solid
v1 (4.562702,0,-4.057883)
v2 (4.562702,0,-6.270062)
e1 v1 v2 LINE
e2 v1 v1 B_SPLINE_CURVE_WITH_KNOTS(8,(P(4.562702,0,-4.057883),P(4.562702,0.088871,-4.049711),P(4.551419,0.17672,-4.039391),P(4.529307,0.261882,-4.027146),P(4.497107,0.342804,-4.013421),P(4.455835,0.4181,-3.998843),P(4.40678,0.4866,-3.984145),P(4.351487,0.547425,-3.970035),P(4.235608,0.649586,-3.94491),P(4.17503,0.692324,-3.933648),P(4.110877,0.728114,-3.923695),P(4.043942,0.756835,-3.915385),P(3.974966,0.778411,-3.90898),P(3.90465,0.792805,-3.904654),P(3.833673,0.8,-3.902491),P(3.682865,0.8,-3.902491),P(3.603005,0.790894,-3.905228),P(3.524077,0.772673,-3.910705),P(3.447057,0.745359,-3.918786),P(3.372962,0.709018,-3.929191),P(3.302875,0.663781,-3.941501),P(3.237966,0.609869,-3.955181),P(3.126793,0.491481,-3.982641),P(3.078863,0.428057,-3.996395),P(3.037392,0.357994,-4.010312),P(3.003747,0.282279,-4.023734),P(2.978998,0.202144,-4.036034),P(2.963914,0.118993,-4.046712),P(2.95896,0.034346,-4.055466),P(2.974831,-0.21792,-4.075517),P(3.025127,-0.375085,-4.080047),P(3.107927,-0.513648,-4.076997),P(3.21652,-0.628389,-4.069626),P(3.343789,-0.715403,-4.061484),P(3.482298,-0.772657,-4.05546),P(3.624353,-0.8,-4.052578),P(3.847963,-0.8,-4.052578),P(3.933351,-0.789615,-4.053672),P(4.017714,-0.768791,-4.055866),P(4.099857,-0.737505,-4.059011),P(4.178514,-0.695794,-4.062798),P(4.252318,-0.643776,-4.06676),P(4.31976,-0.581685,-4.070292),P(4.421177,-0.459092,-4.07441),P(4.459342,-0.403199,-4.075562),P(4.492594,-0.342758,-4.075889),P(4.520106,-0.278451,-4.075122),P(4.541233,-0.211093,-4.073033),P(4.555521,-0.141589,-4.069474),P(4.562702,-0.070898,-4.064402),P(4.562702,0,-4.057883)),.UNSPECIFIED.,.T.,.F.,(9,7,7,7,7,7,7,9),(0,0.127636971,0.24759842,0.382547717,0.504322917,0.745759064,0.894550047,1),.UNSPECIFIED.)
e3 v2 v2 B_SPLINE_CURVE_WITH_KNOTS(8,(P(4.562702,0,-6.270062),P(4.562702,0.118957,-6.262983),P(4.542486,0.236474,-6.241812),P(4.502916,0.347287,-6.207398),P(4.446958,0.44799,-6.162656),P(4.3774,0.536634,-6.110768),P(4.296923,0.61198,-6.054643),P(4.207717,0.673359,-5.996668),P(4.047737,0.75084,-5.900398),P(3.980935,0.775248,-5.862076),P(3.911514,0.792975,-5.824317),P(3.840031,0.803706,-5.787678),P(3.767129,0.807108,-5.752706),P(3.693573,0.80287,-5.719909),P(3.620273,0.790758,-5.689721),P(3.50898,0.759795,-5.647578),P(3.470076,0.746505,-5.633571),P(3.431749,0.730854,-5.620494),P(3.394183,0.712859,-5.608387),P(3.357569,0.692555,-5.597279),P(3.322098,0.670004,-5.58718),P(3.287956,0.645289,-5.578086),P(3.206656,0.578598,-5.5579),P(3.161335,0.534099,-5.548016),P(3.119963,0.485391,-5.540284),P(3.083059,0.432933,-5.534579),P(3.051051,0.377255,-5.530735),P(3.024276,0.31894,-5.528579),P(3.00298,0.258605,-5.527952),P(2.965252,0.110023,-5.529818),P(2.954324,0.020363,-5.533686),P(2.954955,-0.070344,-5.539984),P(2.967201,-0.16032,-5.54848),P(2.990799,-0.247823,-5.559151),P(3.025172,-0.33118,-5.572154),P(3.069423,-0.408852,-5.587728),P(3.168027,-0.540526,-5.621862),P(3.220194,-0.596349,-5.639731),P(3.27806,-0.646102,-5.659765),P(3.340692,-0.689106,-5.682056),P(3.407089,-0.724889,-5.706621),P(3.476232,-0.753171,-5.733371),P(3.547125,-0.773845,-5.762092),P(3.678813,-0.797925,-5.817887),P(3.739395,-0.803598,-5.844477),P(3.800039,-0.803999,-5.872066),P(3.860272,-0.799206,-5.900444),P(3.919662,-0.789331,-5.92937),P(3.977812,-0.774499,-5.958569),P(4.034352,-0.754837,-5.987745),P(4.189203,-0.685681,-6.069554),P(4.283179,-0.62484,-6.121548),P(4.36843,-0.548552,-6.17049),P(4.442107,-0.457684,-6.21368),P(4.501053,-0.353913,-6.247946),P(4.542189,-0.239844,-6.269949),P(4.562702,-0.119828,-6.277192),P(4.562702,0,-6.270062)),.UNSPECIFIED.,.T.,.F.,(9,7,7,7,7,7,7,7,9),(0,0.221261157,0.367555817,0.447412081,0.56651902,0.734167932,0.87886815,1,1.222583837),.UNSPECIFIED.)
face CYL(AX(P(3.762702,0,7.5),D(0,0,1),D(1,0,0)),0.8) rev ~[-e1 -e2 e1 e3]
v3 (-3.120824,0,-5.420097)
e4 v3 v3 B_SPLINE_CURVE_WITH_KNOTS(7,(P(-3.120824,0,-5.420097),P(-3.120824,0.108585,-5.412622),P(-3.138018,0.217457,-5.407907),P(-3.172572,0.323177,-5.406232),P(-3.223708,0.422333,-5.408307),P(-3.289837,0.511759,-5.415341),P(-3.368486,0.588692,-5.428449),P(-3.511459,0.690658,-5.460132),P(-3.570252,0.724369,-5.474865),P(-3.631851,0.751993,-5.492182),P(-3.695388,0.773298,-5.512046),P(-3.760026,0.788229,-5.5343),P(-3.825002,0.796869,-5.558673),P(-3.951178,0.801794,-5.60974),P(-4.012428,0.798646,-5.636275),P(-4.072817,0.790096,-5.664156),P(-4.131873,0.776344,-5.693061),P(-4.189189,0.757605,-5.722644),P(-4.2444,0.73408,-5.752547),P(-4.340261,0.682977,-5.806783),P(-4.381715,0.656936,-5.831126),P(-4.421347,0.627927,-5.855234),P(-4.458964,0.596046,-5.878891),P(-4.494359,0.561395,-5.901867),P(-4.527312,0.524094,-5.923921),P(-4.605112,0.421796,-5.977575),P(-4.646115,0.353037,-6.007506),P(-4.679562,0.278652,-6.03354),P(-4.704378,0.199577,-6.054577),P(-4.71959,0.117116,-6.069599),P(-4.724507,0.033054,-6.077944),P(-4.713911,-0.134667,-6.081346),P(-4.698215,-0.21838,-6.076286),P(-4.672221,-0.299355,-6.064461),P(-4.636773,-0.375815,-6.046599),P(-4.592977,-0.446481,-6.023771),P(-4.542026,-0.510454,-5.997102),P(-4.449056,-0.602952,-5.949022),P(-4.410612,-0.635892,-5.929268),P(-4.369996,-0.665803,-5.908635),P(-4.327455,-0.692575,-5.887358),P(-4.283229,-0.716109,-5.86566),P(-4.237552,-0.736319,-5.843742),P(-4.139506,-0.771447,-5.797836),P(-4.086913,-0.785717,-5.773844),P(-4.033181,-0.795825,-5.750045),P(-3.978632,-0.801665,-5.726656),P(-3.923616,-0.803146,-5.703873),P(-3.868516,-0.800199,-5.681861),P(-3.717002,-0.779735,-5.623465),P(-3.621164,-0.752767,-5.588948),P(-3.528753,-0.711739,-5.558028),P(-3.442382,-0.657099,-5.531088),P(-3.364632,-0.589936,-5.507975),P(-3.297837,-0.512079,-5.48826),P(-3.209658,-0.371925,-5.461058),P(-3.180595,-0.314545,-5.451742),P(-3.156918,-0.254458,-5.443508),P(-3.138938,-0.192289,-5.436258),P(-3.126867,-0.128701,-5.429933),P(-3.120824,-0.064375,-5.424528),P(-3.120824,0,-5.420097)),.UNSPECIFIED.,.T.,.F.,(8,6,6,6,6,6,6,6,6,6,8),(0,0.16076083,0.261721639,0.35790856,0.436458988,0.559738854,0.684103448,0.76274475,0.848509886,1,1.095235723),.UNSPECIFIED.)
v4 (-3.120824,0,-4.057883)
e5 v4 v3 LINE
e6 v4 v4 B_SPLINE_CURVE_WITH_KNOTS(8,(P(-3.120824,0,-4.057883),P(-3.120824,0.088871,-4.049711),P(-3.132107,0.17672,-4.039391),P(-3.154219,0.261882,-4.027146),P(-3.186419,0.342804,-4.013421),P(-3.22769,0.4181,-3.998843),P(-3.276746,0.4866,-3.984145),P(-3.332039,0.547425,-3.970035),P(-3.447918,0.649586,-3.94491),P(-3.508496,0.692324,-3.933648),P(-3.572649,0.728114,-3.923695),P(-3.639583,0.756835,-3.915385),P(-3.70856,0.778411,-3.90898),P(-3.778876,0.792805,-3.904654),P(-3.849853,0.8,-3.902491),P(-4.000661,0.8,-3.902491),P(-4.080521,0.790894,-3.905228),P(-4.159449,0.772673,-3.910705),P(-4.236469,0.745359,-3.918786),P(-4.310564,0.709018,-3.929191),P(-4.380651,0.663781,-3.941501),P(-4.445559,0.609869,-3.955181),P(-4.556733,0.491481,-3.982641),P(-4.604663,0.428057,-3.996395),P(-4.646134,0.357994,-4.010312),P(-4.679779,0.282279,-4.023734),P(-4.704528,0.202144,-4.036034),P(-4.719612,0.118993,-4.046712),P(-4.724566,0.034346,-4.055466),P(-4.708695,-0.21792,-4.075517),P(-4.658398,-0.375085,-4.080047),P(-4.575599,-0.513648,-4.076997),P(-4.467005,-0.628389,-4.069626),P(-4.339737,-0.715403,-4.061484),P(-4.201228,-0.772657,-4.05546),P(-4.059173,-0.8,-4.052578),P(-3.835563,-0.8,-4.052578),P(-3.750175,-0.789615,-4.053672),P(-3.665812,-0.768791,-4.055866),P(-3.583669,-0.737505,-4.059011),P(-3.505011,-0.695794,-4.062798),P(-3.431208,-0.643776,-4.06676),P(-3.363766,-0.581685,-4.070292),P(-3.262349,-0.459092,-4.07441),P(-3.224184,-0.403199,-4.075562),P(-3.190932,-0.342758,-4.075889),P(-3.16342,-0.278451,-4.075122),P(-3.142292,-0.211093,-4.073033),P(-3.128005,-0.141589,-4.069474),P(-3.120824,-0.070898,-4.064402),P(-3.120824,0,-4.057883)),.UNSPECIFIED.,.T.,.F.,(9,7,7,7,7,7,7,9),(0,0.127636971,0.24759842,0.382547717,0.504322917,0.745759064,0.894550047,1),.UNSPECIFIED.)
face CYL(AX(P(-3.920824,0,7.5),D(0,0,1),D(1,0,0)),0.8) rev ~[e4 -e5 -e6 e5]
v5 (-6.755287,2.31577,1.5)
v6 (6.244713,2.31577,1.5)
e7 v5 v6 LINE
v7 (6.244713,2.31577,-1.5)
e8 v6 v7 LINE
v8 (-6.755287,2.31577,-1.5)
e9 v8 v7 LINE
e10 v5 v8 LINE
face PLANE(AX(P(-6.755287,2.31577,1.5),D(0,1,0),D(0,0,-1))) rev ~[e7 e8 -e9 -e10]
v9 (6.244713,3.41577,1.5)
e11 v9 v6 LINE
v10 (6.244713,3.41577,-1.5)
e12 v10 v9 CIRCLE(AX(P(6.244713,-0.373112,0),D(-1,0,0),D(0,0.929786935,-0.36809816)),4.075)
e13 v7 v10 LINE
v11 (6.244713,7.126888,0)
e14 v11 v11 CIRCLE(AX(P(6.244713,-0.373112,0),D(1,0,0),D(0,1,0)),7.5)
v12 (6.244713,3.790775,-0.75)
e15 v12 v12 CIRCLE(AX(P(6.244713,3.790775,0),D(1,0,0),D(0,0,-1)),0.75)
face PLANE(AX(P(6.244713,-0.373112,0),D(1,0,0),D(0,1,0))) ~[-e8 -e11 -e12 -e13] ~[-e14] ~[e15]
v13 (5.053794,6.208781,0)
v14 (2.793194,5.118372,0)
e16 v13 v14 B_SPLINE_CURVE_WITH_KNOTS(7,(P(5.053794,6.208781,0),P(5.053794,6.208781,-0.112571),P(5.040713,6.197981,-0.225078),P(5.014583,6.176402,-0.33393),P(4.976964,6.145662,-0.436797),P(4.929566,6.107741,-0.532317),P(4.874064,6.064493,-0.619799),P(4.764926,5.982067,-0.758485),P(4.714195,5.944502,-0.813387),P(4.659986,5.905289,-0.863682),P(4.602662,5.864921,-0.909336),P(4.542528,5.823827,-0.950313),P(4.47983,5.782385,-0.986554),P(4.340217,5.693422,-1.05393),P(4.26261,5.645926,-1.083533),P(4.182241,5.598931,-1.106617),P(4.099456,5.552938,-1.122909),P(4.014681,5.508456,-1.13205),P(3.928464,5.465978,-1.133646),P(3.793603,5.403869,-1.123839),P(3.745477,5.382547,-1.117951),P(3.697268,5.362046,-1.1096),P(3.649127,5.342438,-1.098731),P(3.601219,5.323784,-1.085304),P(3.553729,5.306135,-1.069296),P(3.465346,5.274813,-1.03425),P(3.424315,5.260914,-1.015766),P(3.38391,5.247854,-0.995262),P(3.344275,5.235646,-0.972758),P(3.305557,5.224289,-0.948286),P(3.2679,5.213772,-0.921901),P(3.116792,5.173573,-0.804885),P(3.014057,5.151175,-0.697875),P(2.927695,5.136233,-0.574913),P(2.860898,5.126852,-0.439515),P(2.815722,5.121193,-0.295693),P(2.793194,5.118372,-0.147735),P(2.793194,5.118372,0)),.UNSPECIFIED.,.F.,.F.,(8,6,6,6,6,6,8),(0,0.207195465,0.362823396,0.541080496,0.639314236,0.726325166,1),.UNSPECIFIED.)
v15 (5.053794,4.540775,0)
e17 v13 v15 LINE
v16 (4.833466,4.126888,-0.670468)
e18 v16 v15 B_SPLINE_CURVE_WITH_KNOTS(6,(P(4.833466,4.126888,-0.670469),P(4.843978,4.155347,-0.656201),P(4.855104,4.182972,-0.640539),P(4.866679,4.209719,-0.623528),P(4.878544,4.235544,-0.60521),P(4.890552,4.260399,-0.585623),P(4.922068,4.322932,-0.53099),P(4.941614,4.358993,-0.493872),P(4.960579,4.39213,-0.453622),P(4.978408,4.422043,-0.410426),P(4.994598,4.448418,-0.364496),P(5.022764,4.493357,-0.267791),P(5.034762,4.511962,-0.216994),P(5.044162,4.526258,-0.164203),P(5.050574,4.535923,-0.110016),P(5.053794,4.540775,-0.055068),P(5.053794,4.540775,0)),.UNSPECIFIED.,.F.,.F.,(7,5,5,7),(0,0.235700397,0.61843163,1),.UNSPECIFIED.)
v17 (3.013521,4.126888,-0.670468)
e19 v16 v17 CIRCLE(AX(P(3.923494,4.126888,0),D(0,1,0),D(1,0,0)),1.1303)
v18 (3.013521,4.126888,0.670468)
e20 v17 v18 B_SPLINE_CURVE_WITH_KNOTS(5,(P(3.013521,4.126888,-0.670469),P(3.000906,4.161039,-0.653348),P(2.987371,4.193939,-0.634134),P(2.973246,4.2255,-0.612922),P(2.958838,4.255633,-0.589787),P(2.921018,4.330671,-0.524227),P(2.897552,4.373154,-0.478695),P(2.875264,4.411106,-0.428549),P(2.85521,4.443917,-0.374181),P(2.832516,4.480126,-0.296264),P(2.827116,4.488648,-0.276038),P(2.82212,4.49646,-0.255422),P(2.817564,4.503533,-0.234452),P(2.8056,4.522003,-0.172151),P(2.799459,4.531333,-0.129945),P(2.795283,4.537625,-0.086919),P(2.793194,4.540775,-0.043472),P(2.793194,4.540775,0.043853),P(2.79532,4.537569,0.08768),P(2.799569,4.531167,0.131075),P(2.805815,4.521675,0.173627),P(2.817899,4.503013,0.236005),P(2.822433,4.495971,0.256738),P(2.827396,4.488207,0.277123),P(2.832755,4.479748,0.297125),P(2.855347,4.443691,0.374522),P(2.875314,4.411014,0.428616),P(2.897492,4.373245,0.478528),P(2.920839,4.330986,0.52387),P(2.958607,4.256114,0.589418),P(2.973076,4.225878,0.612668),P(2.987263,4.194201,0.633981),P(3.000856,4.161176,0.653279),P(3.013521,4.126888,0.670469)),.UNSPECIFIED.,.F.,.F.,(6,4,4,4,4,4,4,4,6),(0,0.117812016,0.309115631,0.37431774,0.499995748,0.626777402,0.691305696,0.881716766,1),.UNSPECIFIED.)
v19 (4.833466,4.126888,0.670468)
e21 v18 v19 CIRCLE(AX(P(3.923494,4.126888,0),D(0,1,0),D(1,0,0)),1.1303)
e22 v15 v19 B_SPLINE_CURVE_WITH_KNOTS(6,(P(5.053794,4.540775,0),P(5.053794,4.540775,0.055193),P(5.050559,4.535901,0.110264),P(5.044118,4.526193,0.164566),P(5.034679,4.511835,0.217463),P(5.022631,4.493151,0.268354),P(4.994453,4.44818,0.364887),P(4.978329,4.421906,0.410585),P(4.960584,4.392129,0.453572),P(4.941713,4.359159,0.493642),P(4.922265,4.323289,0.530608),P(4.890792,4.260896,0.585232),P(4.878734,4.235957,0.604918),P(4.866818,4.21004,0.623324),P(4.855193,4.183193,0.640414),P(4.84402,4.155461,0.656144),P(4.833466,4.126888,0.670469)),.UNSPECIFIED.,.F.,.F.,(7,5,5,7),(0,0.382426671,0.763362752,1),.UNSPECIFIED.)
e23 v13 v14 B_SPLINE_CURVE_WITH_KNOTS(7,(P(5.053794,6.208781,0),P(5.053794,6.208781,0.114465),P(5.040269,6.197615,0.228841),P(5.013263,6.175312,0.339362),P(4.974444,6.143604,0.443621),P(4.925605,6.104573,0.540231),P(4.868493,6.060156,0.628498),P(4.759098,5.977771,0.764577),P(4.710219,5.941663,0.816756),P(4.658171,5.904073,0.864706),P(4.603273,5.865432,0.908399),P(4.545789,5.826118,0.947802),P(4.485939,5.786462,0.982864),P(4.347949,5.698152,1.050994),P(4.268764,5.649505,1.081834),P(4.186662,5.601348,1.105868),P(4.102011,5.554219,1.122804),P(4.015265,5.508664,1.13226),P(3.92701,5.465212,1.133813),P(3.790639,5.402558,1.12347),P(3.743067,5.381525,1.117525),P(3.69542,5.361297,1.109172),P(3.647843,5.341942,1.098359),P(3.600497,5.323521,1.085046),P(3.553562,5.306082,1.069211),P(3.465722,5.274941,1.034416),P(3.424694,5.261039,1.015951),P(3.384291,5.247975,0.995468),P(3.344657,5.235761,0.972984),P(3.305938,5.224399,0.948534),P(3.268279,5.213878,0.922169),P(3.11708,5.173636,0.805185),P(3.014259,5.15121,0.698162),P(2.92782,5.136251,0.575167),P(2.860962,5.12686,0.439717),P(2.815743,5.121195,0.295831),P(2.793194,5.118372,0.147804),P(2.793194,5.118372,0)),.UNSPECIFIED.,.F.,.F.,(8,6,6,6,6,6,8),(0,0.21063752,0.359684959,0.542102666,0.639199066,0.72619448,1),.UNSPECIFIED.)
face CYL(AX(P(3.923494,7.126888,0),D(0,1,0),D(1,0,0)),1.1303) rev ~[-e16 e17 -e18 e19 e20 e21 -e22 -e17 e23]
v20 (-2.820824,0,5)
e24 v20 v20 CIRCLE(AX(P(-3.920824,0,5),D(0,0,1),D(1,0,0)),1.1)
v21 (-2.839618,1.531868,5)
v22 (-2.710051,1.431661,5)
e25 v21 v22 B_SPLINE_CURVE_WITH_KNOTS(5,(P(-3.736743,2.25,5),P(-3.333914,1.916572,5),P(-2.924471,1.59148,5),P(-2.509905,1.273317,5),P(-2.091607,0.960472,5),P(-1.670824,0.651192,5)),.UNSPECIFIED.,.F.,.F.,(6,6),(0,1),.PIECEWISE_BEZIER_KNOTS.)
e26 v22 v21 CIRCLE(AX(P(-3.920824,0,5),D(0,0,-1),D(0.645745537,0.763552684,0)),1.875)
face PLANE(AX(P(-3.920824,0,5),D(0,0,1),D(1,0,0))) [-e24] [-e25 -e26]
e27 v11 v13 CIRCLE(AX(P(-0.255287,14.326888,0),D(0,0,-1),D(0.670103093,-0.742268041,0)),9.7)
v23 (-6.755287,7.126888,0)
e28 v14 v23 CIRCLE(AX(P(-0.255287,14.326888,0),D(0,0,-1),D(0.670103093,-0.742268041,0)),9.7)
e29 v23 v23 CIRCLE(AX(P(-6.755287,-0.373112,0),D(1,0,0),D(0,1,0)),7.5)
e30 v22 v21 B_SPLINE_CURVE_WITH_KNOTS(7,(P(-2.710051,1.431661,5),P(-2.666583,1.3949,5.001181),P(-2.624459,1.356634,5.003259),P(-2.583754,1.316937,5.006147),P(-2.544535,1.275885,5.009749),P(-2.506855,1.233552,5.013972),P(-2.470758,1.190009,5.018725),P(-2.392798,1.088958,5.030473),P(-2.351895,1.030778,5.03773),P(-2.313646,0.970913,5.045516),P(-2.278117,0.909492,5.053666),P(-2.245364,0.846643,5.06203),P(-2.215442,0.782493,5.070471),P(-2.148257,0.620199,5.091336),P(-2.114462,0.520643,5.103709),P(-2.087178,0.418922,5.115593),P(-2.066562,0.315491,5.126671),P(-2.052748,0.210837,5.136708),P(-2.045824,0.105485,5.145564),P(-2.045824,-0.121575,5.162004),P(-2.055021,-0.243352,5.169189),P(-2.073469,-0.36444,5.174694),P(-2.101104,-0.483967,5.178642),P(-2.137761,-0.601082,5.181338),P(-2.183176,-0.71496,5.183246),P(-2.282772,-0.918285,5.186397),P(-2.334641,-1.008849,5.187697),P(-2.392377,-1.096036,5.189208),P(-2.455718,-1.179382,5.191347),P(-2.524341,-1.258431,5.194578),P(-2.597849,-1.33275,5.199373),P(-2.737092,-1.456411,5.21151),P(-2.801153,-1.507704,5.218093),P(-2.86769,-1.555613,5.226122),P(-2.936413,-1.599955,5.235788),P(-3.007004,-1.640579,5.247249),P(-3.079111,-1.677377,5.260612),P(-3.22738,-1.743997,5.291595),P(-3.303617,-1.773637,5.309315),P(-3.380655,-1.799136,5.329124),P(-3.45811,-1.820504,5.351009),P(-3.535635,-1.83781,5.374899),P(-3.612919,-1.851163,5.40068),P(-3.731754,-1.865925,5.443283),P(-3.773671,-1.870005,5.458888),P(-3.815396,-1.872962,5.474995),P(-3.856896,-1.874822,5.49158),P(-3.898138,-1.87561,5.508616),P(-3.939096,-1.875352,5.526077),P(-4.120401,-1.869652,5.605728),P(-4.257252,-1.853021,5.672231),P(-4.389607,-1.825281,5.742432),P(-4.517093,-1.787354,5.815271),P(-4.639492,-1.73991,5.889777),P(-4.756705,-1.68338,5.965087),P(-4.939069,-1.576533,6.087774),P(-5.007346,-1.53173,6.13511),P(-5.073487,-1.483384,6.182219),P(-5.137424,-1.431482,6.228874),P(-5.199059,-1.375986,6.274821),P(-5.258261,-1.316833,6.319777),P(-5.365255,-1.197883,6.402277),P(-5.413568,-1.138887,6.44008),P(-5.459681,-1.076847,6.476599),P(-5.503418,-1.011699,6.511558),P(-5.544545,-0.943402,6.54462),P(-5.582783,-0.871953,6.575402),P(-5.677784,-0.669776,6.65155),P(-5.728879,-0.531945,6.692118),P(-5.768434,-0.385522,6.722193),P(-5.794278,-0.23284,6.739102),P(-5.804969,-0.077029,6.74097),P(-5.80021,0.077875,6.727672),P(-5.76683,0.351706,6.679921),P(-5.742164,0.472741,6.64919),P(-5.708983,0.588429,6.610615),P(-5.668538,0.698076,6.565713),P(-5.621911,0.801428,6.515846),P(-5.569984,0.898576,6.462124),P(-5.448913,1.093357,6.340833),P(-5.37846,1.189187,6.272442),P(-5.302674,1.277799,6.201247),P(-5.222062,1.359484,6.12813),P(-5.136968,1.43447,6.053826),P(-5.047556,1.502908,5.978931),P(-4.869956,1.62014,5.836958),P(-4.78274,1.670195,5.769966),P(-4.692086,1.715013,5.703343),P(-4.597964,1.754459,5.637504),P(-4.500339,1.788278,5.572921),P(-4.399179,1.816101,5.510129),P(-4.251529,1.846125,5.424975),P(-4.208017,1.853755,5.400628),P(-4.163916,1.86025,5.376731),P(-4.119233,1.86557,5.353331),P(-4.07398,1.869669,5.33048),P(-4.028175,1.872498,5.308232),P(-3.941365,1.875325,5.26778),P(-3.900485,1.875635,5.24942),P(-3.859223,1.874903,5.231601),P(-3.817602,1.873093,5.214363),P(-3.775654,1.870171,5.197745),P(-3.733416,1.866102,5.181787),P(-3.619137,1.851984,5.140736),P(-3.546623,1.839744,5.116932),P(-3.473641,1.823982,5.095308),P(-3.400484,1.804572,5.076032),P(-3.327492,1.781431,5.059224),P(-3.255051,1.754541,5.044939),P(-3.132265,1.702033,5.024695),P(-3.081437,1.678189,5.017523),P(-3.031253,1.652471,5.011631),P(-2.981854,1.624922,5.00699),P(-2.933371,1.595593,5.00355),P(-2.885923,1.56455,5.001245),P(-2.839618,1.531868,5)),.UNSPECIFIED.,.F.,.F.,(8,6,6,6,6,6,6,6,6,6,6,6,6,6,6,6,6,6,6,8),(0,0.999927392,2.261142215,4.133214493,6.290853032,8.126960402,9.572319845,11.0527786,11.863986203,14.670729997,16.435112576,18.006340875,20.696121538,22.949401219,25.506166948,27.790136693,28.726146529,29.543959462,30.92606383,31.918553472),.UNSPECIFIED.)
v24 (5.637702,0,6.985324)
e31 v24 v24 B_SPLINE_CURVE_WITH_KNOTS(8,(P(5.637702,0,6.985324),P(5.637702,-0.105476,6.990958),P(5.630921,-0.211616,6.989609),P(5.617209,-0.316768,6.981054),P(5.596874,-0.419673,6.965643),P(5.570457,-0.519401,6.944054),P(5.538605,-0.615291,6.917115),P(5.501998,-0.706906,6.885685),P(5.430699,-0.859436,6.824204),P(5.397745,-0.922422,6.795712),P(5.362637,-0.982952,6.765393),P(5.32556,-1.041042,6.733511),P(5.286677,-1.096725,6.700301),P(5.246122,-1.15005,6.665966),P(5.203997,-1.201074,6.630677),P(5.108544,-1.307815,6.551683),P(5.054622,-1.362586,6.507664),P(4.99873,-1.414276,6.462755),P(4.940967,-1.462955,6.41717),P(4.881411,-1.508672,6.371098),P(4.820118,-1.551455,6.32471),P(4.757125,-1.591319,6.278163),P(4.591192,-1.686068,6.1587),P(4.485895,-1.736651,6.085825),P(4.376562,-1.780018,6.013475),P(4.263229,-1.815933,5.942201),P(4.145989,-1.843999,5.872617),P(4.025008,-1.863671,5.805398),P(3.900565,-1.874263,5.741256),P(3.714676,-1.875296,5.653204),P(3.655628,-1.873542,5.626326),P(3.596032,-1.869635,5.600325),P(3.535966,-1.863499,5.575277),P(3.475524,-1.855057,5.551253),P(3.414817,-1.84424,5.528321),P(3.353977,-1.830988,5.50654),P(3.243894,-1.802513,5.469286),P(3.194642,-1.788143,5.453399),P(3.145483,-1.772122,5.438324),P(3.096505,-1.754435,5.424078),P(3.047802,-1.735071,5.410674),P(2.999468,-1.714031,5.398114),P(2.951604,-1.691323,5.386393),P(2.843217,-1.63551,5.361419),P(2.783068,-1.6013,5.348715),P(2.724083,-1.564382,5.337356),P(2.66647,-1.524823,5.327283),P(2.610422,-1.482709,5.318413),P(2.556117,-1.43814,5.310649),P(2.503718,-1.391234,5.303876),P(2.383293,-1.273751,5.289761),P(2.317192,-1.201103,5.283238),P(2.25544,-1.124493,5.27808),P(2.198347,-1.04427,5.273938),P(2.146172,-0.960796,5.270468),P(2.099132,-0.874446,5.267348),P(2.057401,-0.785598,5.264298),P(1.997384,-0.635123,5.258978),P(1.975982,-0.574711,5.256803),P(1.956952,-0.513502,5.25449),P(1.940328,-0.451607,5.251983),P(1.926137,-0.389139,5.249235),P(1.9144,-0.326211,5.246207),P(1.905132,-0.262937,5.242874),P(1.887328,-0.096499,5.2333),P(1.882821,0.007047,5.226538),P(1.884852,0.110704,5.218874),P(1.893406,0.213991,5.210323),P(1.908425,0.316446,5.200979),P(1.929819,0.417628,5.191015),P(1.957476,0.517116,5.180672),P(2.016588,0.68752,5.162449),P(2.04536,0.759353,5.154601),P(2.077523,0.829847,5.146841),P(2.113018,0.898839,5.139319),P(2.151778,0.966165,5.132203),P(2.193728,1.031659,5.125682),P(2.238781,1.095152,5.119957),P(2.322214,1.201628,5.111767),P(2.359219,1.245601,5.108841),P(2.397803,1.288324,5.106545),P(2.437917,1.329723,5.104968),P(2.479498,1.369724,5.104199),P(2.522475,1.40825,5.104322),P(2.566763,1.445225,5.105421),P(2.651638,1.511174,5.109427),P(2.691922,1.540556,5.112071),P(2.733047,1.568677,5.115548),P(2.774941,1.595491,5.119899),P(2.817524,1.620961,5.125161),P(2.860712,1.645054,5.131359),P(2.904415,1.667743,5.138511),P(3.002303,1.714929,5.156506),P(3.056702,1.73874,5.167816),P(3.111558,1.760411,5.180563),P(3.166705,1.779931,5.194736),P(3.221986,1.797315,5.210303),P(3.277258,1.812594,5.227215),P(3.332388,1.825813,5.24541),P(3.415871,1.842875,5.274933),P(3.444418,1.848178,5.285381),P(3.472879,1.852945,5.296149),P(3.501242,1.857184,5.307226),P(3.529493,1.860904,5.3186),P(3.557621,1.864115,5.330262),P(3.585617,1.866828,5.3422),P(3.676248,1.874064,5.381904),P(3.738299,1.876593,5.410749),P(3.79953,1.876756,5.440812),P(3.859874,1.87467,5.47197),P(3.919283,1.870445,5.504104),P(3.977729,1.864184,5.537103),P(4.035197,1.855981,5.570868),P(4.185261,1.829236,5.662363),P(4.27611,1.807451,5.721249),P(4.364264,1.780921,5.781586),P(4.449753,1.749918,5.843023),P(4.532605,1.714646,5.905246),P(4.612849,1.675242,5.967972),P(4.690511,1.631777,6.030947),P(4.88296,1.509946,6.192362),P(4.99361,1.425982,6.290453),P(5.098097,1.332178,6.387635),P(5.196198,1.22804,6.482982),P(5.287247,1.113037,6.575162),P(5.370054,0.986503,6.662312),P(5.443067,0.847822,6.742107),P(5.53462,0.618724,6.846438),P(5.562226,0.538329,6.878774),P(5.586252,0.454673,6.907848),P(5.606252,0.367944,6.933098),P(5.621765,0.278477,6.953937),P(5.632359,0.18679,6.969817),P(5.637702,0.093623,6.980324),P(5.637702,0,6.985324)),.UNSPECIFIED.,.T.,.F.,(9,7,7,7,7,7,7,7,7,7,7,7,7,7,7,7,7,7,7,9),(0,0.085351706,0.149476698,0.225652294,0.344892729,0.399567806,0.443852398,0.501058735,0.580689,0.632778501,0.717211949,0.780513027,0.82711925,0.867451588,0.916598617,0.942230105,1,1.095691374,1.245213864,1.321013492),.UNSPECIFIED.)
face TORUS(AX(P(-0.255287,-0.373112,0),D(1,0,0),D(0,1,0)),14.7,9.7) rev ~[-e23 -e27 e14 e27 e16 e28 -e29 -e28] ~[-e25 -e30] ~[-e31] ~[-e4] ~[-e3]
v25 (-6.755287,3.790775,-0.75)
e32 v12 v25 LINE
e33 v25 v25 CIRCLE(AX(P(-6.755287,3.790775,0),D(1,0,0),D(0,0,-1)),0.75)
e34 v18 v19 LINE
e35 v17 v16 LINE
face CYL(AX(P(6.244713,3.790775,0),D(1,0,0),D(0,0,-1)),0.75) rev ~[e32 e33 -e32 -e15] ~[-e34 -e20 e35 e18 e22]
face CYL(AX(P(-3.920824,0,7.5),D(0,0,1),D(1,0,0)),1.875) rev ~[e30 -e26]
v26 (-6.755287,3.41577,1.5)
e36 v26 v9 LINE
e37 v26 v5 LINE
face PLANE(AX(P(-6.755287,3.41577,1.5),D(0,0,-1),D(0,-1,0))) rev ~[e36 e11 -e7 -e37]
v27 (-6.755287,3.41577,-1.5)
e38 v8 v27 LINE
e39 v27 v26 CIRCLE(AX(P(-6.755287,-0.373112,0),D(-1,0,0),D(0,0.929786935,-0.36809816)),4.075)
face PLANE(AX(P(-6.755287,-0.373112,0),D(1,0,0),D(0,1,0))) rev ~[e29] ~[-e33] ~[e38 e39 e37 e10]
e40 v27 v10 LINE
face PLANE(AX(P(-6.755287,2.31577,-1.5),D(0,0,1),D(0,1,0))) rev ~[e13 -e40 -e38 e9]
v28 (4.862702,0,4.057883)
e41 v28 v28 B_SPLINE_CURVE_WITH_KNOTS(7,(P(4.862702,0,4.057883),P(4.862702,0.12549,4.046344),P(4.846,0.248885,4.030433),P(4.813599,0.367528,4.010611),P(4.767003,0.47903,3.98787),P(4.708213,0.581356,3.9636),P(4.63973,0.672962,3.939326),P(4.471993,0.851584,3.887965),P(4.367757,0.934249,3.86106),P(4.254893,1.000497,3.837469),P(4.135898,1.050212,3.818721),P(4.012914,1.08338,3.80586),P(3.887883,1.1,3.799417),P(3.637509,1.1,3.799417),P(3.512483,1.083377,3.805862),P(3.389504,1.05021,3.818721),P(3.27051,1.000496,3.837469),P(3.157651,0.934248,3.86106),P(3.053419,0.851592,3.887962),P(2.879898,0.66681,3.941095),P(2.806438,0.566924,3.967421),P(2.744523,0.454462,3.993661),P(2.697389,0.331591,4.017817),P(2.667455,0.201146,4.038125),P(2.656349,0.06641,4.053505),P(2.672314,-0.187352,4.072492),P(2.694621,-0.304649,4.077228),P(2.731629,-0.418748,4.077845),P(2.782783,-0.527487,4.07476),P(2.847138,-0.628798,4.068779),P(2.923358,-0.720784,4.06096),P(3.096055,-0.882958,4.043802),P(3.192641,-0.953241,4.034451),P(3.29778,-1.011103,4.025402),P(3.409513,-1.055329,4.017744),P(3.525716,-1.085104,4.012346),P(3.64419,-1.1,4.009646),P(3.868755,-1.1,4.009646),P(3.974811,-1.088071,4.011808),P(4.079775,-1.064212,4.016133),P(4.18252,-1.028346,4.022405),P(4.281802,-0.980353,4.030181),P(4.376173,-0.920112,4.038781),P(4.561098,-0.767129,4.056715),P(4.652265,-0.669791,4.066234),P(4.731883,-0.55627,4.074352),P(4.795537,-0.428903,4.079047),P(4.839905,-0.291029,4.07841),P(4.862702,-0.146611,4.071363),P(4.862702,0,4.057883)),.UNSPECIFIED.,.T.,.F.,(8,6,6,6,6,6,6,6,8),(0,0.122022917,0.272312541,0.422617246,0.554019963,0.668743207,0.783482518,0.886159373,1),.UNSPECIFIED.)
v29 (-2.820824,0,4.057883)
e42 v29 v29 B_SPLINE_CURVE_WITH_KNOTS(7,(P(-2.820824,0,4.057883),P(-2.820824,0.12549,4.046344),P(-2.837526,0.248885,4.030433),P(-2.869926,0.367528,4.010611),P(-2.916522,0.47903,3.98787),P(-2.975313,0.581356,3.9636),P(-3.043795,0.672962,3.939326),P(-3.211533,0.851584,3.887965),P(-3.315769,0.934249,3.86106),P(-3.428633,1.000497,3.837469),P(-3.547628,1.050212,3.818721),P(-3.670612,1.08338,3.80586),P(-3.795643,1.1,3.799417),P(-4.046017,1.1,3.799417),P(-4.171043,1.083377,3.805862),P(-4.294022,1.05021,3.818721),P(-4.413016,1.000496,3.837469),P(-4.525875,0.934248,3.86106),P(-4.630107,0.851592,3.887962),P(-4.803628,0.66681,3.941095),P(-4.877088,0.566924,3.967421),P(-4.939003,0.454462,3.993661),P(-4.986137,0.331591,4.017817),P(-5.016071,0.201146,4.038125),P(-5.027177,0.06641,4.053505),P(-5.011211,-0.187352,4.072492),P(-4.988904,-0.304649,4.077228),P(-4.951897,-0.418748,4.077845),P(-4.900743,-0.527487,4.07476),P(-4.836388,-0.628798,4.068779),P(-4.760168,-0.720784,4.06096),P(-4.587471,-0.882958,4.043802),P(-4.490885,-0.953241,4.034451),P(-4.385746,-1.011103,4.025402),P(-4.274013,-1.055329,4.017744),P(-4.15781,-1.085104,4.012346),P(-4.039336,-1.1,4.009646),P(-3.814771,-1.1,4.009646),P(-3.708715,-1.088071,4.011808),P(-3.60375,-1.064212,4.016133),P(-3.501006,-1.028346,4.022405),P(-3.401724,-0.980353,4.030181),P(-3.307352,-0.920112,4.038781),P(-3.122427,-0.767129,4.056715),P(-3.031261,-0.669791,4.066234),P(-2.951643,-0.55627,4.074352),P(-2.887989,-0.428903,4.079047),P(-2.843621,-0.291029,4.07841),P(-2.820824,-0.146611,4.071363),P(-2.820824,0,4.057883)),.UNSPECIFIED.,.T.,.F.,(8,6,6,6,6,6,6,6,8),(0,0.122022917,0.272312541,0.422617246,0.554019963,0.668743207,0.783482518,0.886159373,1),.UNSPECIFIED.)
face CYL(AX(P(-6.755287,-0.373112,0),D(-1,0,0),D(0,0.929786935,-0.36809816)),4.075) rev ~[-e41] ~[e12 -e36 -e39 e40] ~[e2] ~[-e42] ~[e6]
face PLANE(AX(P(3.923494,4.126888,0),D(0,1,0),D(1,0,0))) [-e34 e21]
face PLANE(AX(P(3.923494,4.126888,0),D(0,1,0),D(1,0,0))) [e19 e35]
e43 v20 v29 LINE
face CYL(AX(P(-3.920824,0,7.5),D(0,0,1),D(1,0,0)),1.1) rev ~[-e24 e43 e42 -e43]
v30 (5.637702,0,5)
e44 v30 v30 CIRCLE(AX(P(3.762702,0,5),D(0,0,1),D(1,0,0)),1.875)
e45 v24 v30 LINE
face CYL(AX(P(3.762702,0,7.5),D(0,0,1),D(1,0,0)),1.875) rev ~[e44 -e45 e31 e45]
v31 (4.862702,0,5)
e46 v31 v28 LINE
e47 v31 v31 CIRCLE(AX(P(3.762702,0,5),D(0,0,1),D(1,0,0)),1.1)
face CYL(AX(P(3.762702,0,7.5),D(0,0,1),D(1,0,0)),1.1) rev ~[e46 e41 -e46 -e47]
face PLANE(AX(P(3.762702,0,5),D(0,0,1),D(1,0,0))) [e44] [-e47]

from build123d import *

# Parameters (mm, degrees)
CUT_EXTRUDE1_DEPTH          = 14
SKETCH3_R                   = 0.75
CABLE_HOLE_DEPTH            = 14
SKETCH4_R                   = 1.1303
F_5_40_SET_SCREW_HOLE_DEPTH = 3
SKETCH6_R                   = 0.8
M2_X_0_4_SCREW_HOLE_DEPTH   = 16.0000001
SKETCH7_R                   = 1.1
HOLE_FOR_CAP_SCREW_DEPTH    = 5
SKETCH8_R                   = 1.875
CUT_EXTRUDE6_DEPTH          = 2.5


with BuildPart() as part:
    # Sketch1 → Revolve1 (revolve)
    with BuildSketch(Plane.XY):
        with BuildLine():
            Line((-6.755287009, -0.373111782), (6.244712991, -0.373111782))
            Line((6.244712991, -0.373111782), (6.244712991, 7.126888218))
            ThreePointArc((6.244712991, 7.126888218), (-0.255287009, 4.626888218), (-6.755287009, 7.126888218))
            Line((-6.755287009, 7.126888218), (-6.755287009, -0.373111782))
        make_face()
    revolve(axis=Axis((-6.755287009, -0.373111782, 0), (1, 0, 0)))

    # Sketch2 → Cut-Extrude1 (cut, through all)
    with BuildSketch(Plane.ZY.offset(6.755287009)):
        with BuildLine():
            Line((1.5, 3.315769979), (1.5, 2.315769979))
            Line((1.5, 2.315769979), (-1.5, 2.315769979))
            Line((-1.5, 2.315769979), (-1.5, 3.315769979))
            Line((-1.5, 3.315769979), (-1.5, 3.415769979))
            ThreePointArc((-1.5, 3.415769979), (0, -4.448111782), (1.5, 3.415769979))
            Line((1.5, 3.415769979), (1.5, 3.315769979))
        make_face()
    extrude(amount=-CUT_EXTRUDE1_DEPTH, mode=Mode.SUBTRACT)

    # Sketch3 → cable hole (cut, through all)
    with BuildSketch(Plane(origin=(6.244712991, 0, 0), x_dir=(0, 0, -1), z_dir=(1, 0, 0))):
        with Locations((0, 3.790774627)):
            Circle(SKETCH3_R)
    extrude(amount=-CABLE_HOLE_DEPTH, mode=Mode.SUBTRACT)

    # Sketch4 → 5-40 set screw hole (cut)
    with BuildSketch(Plane(origin=(0, 7.126888218, 0), x_dir=(1, 0, 0), z_dir=(0, 1, 0))):
        with Locations((3.923493578, 0)):
            Circle(SKETCH4_R)
    extrude(amount=-F_5_40_SET_SCREW_HOLE_DEPTH, mode=Mode.SUBTRACT)

    # Sketch6 → M2 X 0.4 screw hole (cut, through all)
    with BuildSketch(Plane.XY.offset(7.5)):
        with Locations((3.762702125, 0)):
            Circle(SKETCH6_R)
        with Locations((-3.920823754, 0)):
            Circle(SKETCH6_R)
    extrude(amount=-M2_X_0_4_SCREW_HOLE_DEPTH, mode=Mode.SUBTRACT)

    # Sketch7 → hole for cap screw (cut)
    with BuildSketch(Plane.XY.offset(7.5)):
        with Locations((3.762702125, 0)):
            Circle(SKETCH7_R)
        with Locations((-3.920823754, 0)):
            Circle(SKETCH7_R)
    extrude(amount=-HOLE_FOR_CAP_SCREW_DEPTH, mode=Mode.SUBTRACT)

    # Sketch8 → Cut-Extrude6 (cut)
    with BuildSketch(Plane.XY.offset(7.5)):
        with Locations((3.762702125, 0)):
            Circle(SKETCH8_R)
        with Locations((-3.920823754, 0)):
            Circle(SKETCH8_R)
    extrude(amount=-CUT_EXTRUDE6_DEPTH, mode=Mode.SUBTRACT)


solid = part.part
